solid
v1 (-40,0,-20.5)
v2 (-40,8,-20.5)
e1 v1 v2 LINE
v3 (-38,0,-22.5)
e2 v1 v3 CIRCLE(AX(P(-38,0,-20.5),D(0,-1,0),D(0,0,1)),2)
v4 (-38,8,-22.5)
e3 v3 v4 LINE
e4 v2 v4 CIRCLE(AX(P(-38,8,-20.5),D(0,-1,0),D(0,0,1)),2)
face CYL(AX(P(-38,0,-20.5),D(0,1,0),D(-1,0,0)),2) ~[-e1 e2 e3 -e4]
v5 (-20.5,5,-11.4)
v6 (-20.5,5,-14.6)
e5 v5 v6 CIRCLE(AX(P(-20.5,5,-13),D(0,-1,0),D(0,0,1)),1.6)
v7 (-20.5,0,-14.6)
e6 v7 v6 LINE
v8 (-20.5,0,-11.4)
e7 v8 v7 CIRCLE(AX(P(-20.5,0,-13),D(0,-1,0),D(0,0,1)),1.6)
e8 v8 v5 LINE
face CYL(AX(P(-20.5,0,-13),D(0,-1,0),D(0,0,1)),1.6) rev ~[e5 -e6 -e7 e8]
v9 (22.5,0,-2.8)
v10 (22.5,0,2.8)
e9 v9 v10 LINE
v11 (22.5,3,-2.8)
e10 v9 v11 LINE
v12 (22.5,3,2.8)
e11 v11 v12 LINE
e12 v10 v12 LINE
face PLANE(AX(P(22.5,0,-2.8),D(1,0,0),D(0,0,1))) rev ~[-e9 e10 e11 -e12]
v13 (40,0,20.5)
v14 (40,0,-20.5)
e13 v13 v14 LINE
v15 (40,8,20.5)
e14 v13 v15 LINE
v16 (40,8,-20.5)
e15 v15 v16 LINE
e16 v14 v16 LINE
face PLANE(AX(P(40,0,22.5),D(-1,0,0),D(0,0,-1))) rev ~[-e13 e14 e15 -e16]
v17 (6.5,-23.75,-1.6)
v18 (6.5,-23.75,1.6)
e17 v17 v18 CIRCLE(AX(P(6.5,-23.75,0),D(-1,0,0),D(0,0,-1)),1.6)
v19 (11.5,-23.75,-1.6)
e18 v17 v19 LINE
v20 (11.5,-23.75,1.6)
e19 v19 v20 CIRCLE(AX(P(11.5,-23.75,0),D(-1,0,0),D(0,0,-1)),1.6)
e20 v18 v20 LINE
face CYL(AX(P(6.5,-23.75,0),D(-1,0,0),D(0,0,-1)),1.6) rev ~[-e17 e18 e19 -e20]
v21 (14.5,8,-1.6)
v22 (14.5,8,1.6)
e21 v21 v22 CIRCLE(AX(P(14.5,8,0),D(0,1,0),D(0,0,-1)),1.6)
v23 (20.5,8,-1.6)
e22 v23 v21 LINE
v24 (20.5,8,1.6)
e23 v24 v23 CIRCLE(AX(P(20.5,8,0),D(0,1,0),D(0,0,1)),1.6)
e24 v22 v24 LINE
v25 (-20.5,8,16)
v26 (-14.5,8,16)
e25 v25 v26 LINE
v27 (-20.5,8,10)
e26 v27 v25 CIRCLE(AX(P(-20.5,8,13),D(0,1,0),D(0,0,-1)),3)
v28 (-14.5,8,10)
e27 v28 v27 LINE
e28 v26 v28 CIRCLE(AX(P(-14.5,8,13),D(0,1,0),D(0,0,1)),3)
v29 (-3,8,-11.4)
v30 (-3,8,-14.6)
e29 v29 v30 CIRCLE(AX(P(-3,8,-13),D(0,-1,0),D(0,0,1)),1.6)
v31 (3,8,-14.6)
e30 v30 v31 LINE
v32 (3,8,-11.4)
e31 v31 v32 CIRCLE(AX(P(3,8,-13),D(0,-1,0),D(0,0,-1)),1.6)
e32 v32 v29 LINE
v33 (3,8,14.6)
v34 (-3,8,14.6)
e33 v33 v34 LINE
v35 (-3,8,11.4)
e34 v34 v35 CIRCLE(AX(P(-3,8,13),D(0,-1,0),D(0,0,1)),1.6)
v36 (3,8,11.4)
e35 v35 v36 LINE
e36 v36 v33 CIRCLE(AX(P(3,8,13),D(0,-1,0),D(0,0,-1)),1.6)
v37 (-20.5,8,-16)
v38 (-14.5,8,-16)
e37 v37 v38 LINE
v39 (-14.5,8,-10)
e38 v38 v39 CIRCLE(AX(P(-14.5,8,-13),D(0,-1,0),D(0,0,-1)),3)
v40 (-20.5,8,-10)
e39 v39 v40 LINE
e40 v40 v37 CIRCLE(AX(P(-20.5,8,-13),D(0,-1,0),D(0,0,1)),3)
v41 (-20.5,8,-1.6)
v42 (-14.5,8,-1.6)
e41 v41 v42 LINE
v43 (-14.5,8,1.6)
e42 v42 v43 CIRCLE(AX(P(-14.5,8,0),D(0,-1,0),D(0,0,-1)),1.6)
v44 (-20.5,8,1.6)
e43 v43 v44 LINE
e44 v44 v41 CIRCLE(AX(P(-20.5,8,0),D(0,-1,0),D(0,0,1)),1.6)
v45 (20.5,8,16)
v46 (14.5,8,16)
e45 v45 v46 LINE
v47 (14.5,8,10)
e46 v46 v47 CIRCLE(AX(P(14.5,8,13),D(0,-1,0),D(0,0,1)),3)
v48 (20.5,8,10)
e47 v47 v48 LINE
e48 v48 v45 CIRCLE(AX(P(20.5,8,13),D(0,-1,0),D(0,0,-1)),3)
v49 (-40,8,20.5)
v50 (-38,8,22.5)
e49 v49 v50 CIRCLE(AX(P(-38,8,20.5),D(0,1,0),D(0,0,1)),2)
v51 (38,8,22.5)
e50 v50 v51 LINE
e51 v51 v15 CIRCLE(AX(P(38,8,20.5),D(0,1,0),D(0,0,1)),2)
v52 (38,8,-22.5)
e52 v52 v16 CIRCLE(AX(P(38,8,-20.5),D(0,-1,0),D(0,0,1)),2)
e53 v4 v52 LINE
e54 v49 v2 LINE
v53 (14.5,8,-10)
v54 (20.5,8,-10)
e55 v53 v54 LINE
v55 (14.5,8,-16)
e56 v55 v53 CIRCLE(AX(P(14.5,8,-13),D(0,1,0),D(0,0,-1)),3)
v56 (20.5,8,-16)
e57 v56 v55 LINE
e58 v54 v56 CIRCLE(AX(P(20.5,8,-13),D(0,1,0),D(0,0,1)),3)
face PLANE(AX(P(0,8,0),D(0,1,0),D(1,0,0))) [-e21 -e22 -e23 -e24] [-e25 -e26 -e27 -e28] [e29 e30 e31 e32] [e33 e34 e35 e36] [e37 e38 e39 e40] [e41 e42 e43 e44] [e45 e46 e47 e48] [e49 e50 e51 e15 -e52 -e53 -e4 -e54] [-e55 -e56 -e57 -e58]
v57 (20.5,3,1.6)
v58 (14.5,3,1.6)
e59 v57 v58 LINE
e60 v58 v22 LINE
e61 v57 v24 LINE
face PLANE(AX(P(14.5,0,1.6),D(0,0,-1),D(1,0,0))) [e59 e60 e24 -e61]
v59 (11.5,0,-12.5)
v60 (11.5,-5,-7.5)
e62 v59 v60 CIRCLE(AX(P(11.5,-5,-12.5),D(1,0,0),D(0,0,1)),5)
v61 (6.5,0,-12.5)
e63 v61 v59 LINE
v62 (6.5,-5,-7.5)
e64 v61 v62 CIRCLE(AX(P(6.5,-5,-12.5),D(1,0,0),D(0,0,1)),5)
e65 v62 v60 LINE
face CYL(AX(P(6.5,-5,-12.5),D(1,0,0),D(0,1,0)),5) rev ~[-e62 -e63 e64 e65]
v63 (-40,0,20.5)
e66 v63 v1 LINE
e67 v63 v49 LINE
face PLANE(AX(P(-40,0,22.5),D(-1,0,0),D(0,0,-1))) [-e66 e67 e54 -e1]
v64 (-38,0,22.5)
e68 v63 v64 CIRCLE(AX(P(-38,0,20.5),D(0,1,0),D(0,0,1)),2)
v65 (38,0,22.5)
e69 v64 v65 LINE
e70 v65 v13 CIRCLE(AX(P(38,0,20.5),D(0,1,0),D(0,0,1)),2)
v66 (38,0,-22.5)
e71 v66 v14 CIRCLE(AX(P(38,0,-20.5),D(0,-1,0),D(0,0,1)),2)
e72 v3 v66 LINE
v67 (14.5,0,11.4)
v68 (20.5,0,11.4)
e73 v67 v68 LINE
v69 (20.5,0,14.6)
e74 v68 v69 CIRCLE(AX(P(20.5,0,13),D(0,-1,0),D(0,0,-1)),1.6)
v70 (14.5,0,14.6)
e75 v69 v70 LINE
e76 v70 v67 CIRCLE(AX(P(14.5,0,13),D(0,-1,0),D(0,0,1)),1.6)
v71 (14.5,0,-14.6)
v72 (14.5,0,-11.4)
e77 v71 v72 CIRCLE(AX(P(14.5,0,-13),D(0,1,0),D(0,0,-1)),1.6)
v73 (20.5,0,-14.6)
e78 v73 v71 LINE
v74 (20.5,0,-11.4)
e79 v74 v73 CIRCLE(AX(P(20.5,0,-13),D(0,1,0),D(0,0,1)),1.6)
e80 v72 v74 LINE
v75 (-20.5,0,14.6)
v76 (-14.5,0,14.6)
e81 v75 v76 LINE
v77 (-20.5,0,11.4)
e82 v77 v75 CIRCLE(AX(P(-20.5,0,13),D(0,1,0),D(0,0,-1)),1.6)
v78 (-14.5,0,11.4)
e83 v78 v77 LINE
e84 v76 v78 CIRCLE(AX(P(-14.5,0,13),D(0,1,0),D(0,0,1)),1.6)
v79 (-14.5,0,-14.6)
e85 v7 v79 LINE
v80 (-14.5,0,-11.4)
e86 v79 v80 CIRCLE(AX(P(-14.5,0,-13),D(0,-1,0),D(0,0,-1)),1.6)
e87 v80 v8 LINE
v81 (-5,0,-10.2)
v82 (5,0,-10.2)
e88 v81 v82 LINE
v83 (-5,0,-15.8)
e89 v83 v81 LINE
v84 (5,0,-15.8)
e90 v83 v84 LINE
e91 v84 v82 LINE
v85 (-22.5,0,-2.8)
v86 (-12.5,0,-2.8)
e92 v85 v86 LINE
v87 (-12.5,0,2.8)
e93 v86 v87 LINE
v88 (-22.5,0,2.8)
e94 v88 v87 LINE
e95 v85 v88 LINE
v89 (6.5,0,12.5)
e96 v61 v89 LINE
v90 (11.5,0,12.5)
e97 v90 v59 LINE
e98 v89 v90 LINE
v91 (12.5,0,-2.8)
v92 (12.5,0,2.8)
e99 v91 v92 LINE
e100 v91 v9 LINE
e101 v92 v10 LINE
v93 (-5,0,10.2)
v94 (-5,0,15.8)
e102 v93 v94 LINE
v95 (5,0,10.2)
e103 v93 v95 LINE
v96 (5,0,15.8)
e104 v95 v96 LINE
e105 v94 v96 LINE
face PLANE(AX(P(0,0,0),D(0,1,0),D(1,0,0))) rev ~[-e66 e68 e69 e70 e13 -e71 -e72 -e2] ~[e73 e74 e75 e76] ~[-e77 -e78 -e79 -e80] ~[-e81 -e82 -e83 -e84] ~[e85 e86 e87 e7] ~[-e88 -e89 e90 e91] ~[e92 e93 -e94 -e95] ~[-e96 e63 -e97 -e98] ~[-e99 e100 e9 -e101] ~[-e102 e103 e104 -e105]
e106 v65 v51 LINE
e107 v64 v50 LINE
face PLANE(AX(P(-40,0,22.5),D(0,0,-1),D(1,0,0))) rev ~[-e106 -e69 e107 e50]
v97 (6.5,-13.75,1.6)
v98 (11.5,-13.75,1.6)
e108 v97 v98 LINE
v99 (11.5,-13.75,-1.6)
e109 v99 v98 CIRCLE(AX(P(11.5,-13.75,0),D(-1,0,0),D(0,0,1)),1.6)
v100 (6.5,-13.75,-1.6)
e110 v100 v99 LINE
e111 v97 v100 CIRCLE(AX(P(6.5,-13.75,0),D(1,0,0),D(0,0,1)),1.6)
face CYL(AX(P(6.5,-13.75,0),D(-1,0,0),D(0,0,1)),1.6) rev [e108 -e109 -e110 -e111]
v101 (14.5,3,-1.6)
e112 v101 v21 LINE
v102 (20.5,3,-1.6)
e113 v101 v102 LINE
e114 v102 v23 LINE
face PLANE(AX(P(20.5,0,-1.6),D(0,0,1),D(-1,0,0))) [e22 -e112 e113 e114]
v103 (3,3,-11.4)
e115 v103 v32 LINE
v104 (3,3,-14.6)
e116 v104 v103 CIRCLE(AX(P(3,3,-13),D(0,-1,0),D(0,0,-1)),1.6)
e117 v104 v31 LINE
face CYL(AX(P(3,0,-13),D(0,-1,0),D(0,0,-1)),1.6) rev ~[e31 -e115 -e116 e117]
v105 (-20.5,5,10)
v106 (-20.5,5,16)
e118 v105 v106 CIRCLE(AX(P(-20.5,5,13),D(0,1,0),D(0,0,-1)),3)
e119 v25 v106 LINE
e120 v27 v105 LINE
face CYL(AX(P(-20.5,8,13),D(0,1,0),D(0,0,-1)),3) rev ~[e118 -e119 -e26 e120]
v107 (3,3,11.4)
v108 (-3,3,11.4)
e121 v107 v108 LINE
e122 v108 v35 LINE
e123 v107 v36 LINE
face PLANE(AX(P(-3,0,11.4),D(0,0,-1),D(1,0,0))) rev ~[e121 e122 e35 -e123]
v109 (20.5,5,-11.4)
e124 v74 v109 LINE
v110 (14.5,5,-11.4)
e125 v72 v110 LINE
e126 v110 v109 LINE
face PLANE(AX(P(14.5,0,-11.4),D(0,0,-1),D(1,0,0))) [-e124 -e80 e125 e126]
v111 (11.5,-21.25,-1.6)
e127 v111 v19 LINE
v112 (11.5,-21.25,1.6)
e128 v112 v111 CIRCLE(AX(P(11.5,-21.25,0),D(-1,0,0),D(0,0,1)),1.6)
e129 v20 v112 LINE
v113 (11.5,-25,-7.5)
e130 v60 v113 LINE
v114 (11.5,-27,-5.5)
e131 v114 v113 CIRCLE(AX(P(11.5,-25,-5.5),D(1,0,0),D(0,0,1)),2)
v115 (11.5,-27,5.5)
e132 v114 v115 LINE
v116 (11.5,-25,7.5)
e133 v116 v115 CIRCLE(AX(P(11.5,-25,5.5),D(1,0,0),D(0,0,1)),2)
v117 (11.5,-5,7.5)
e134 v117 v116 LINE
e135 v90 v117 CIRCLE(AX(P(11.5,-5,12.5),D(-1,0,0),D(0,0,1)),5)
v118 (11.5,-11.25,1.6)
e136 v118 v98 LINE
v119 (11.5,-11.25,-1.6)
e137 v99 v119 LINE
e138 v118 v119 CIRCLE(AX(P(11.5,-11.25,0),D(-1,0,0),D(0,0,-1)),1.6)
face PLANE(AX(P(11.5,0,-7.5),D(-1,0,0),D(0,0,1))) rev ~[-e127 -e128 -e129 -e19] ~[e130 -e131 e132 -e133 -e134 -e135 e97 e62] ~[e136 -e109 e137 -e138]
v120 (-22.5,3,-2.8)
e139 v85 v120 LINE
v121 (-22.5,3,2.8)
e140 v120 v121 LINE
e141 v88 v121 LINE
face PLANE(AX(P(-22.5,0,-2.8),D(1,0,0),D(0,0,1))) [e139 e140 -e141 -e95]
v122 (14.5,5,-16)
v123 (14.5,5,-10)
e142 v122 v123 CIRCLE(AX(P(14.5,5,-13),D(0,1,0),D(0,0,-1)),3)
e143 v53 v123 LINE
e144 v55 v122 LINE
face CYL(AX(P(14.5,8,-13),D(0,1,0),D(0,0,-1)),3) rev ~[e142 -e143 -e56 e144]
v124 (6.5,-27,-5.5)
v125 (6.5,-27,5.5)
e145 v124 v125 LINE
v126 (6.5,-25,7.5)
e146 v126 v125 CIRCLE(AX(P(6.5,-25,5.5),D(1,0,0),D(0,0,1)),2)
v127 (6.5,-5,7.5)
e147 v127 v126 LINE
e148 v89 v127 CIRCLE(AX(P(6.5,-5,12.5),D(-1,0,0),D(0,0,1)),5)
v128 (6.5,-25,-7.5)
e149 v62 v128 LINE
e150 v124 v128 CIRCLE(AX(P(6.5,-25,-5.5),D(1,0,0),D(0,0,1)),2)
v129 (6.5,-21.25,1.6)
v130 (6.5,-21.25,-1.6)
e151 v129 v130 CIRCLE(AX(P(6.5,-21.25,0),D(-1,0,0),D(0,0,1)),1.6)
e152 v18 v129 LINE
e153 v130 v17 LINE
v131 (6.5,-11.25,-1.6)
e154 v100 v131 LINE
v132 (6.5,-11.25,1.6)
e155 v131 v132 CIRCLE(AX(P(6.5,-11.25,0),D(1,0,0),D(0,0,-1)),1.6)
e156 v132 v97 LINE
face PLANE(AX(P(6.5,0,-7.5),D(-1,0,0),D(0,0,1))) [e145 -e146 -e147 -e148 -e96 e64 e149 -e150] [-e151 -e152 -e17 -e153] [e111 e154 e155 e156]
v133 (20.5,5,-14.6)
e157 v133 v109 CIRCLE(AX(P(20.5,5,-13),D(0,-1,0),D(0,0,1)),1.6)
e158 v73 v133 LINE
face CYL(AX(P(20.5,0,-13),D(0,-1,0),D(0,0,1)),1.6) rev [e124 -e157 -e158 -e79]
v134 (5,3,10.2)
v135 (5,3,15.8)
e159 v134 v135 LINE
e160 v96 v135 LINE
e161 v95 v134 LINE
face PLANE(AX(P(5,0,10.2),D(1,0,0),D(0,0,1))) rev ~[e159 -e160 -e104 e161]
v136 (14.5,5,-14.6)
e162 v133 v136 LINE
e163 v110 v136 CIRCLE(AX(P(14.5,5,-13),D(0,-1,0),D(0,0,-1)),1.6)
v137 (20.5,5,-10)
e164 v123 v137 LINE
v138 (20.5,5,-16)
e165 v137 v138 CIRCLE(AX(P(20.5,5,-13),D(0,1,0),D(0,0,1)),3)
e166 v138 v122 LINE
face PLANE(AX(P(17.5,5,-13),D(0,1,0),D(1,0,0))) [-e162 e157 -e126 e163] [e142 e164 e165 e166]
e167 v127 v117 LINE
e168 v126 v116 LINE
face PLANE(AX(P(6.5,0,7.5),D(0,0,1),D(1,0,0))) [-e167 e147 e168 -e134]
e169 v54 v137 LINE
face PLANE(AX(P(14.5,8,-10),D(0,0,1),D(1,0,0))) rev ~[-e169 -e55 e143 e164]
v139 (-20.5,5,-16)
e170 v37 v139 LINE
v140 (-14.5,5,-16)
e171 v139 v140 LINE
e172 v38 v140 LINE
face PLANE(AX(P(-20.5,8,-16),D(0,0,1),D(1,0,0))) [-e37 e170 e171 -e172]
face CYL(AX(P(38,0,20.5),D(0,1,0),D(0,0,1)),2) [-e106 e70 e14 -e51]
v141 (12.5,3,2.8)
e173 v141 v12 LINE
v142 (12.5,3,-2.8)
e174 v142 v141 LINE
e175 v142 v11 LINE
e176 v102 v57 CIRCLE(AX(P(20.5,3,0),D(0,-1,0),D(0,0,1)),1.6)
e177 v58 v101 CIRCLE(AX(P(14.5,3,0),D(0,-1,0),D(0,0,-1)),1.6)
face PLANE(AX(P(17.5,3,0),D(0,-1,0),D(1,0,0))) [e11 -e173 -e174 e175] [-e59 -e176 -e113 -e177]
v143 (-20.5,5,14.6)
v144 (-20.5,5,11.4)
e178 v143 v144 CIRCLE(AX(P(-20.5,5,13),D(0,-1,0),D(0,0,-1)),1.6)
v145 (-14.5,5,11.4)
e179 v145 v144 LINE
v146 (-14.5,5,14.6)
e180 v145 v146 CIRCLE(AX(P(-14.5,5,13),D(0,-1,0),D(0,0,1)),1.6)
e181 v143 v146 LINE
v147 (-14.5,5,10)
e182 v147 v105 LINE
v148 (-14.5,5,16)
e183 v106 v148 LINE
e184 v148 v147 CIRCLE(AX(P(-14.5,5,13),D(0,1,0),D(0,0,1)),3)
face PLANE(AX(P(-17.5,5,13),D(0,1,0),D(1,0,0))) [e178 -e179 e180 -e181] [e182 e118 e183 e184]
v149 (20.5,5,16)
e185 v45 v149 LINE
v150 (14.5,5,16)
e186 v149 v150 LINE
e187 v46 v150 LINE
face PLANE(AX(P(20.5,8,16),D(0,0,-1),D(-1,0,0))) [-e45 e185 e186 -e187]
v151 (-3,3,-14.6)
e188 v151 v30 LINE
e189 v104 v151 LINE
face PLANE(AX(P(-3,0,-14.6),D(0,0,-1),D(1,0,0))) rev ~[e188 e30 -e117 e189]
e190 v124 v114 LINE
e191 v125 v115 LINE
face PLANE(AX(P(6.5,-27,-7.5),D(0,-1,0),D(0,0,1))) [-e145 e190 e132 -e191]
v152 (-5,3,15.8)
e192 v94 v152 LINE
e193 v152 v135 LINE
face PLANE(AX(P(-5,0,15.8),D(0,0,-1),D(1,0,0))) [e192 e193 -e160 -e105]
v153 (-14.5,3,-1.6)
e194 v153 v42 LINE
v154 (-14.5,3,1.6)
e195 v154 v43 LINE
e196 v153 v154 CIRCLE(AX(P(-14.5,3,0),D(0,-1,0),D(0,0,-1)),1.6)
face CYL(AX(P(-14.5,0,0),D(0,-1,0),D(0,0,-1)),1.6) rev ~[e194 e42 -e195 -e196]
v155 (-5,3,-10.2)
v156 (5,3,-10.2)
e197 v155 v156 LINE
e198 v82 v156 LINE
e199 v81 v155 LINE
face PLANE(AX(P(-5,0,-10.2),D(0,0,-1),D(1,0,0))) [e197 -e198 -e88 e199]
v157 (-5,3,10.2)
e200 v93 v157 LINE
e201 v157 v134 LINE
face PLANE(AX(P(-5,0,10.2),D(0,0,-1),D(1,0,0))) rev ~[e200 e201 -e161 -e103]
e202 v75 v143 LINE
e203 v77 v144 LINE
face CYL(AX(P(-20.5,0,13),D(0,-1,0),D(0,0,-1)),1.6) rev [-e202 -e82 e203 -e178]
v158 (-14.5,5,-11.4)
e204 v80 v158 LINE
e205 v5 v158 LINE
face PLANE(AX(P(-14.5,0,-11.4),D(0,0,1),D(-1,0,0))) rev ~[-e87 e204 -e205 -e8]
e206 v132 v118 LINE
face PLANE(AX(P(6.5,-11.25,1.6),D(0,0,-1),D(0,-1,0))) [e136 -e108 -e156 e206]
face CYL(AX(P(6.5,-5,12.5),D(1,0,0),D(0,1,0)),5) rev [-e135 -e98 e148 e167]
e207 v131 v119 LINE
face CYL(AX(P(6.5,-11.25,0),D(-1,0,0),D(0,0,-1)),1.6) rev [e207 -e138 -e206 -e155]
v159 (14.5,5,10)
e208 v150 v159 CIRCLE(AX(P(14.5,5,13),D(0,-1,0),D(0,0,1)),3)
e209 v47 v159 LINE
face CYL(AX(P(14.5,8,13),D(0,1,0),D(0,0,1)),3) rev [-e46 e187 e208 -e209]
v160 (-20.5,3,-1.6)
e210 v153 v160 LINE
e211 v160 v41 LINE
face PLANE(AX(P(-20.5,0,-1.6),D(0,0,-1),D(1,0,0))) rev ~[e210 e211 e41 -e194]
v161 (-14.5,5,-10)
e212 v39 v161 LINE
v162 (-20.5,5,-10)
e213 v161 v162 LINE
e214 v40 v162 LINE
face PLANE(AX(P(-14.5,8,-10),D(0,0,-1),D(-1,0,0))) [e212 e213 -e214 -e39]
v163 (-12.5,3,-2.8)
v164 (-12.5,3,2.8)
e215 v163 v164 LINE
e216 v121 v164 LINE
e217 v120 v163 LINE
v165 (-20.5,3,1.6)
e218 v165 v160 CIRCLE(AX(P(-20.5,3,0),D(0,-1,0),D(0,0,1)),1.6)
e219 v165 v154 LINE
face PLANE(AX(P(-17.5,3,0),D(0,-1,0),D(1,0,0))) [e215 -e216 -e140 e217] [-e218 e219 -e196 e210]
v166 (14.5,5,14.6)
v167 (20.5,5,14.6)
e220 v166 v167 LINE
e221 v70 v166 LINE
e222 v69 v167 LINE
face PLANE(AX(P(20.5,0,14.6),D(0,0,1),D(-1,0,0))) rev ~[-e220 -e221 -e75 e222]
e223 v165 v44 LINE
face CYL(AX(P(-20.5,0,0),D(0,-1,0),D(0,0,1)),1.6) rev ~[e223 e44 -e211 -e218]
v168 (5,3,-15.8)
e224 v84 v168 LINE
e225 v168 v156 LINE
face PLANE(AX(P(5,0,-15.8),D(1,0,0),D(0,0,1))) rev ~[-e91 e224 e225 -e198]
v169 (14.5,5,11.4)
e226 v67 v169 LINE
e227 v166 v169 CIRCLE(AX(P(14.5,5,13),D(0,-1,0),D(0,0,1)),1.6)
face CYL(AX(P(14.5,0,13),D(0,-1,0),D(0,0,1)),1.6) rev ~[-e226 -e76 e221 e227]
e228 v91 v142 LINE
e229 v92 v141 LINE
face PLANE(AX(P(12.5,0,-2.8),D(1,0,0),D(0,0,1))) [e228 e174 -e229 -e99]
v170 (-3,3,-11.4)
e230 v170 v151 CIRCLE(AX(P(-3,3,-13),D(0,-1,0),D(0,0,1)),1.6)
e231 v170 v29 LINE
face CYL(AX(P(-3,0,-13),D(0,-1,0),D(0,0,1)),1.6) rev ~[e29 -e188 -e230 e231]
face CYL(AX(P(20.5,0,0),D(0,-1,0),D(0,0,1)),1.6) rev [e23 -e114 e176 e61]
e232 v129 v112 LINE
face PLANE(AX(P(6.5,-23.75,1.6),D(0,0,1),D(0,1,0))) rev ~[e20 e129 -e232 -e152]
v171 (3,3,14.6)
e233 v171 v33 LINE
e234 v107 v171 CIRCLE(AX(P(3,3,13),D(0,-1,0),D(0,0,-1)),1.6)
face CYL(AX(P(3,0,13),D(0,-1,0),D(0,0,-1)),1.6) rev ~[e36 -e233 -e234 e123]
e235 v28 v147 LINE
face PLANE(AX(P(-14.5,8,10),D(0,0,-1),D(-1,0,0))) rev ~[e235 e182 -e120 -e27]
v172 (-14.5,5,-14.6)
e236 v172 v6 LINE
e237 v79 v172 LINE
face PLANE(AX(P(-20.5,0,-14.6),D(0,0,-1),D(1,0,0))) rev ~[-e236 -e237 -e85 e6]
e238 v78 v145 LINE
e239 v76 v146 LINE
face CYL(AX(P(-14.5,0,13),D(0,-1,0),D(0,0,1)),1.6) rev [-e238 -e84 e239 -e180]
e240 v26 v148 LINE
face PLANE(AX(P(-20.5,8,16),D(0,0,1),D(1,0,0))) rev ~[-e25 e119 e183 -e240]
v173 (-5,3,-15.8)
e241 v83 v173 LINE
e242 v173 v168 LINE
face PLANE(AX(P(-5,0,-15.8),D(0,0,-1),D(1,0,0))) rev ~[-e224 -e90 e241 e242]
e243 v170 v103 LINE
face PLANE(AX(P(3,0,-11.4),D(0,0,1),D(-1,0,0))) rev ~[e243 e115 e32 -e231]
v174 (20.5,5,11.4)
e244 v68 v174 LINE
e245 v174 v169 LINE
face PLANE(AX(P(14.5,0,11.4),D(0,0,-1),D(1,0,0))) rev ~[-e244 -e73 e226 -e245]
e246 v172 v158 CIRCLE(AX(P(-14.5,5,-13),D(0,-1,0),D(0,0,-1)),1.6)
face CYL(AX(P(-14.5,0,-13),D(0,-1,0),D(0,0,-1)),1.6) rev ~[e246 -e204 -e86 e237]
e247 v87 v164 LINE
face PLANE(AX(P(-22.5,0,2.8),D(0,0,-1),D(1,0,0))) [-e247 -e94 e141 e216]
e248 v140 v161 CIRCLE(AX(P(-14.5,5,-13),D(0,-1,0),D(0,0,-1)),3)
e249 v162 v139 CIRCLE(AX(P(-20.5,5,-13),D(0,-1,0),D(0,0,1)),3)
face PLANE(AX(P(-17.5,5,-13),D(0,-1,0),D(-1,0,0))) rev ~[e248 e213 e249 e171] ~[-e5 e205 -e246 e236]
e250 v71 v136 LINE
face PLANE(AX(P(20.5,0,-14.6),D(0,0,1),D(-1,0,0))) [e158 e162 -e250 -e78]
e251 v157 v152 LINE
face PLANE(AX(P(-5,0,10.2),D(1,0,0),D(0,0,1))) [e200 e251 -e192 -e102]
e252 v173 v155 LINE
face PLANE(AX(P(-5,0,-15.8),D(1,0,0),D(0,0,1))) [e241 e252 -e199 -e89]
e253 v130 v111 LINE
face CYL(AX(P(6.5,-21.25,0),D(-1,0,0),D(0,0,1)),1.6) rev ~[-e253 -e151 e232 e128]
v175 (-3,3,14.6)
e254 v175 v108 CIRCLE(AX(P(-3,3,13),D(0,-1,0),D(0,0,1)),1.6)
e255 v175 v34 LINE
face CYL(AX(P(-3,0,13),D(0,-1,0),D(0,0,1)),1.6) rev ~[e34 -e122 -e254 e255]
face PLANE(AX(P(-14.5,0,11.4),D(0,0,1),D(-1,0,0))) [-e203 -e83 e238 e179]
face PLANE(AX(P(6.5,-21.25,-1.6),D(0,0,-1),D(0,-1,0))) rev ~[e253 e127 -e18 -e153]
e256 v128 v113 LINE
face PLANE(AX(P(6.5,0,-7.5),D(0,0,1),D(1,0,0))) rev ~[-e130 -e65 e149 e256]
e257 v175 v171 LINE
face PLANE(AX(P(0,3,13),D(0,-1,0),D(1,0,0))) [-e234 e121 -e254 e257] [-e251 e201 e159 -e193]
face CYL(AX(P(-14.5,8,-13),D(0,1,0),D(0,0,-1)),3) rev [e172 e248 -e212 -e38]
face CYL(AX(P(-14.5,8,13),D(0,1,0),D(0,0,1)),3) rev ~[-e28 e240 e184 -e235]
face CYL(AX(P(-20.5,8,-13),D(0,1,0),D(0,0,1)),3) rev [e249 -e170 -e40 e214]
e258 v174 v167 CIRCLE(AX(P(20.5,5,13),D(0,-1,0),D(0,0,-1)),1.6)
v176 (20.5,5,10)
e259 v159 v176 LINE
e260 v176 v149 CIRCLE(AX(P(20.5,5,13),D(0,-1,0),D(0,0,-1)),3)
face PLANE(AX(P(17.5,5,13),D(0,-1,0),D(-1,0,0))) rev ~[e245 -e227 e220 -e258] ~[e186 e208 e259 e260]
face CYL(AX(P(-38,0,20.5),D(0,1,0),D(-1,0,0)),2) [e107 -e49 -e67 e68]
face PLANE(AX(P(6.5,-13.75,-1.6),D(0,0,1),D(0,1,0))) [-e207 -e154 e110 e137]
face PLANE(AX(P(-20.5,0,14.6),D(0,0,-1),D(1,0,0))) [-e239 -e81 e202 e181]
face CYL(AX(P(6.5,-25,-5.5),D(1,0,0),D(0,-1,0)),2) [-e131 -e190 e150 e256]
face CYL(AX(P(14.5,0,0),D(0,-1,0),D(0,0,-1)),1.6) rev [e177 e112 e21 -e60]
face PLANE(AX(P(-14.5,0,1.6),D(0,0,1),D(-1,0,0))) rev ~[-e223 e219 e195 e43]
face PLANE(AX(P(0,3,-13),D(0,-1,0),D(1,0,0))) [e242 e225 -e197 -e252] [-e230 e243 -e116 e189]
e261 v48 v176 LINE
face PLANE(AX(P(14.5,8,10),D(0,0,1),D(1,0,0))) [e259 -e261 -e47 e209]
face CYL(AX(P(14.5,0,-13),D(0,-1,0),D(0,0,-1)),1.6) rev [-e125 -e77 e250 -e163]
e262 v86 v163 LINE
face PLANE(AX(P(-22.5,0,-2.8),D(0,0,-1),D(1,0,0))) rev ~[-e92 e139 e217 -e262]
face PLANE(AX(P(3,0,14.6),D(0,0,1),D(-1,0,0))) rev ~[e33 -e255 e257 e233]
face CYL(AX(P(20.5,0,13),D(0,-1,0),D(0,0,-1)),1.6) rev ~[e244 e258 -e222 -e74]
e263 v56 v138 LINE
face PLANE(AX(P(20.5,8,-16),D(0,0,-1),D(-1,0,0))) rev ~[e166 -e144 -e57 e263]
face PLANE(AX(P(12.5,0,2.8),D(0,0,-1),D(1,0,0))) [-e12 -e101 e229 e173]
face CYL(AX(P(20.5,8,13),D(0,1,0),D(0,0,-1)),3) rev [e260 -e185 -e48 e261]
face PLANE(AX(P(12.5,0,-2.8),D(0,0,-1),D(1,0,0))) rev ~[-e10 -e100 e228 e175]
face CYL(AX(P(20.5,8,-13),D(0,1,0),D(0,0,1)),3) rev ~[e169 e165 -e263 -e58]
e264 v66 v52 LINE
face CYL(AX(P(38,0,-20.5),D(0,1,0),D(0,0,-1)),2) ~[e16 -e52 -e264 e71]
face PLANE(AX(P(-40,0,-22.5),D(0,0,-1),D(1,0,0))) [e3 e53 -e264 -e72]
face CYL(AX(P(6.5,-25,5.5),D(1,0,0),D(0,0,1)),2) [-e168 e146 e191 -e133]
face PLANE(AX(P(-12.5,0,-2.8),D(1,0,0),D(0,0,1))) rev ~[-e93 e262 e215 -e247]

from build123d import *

# Parameters (mm, degrees)
CROQUIS2_W              = 80
CROQUIS2_H              = 45
SALIENTE_EXTRUIR1_DEPTH = 8
CORTAR_EXTRUIR1_DEPTH   = 3
CROQUIS4_W              = 5
CROQUIS4_H              = 15
SALIENTE_EXTRUIR2_DEPTH = 35
CORTAR_EXTRUIR2_DEPTH   = 34.5
REDONDEO1_R             = 5
CROQUIS6_W              = 10
CROQUIS6_H              = 5.6
CORTAR_EXTRUIR3_DEPTH   = 3
CROQUIS8_W              = 15
CROQUIS8_H              = 8
CORTAR_EXTRUIR4_DEPTH   = 34.5
REDONDEO2_R             = 2


with BuildPart() as part:
    # Croquis2 → Saliente-Extruir1 (new body)
    with BuildSketch(Plane(origin=(0, 0, 0), x_dir=(1, 0, 0), z_dir=(0, 1, 0))):
        Rectangle(CROQUIS2_W, CROQUIS2_H)
        with BuildLine():
            Line((-20.5, 14.6), (-14.5, 14.6))
            ThreePointArc((-14.5, 14.6), (-12.9, 13), (-14.5, 11.4))
            Line((-14.5, 11.4), (-20.5, 11.4))
            ThreePointArc((-20.5, 11.4), (-22.1, 13), (-20.5, 14.6))
        make_face(mode=Mode.SUBTRACT)
        with BuildLine():
            Line((20.5, 14.6), (14.5, 14.6))
            ThreePointArc((14.5, 14.6), (12.9, 13), (14.5, 11.4))
            Line((14.5, 11.4), (20.5, 11.4))
            ThreePointArc((20.5, 11.4), (22.1, 13), (20.5, 14.6))
        make_face(mode=Mode.SUBTRACT)
        with BuildLine():
            Line((20.5, -14.6), (14.5, -14.6))
            ThreePointArc((14.5, -14.6), (12.9, -13), (14.5, -11.4))
            Line((14.5, -11.4), (20.5, -11.4))
            ThreePointArc((20.5, -11.4), (22.1, -13), (20.5, -14.6))
        make_face(mode=Mode.SUBTRACT)
        with BuildLine():
            Line((-20.5, -14.6), (-14.5, -14.6))
            ThreePointArc((-14.5, -14.6), (-12.9, -13), (-14.5, -11.4))
            Line((-14.5, -11.4), (-20.5, -11.4))
            ThreePointArc((-20.5, -11.4), (-22.1, -13), (-20.5, -14.6))
        make_face(mode=Mode.SUBTRACT)
        with BuildLine():
            Line((-20.5, 1.6), (-14.5, 1.6))
            ThreePointArc((-14.5, 1.6), (-12.9, 0), (-14.5, -1.6))
            Line((-14.5, -1.6), (-20.5, -1.6))
            ThreePointArc((-20.5, -1.6), (-22.1, 0), (-20.5, 1.6))
        make_face(mode=Mode.SUBTRACT)
        with BuildLine():
            Line((20.5, 1.6), (14.5, 1.6))
            ThreePointArc((14.5, 1.6), (12.9, 0), (14.5, -1.6))
            Line((14.5, -1.6), (20.5, -1.6))
            ThreePointArc((20.5, -1.6), (22.1, 0), (20.5, 1.6))
        make_face(mode=Mode.SUBTRACT)
        with BuildLine():
            Line((-3, 14.6), (3, 14.6))
            ThreePointArc((3, 14.6), (4.6, 13), (3, 11.4))
            Line((3, 11.4), (-3, 11.4))
            ThreePointArc((-3, 11.4), (-4.6, 13), (-3, 14.6))
        make_face(mode=Mode.SUBTRACT)
        with BuildLine():
            Line((-3, -11.4), (3, -11.4))
            ThreePointArc((3, -11.4), (4.6, -13), (3, -14.6))
            Line((3, -14.6), (-3, -14.6))
            ThreePointArc((-3, -14.6), (-4.6, -13), (-3, -11.4))
        make_face(mode=Mode.SUBTRACT)
    extrude(amount=SALIENTE_EXTRUIR1_DEPTH)

    # Croquis3 → Cortar-Extruir1 (cut)
    with BuildSketch(Plane(origin=(0, 8, 0), x_dir=(1, 0, 0), z_dir=(0, 1, 0))):
        with BuildLine():
            Line((-20.5, 16), (-14.5, 16))
            ThreePointArc((-14.5, 16), (-11.5, 13), (-14.5, 10))
            Line((-14.5, 10), (-20.5, 10))
            ThreePointArc((-20.5, 10), (-23.5, 13), (-20.5, 16))
        make_face()
        with BuildLine():
            Line((20.5, 16), (14.5, 16))
            ThreePointArc((14.5, 16), (11.5, 13), (14.5, 10))
            Line((14.5, 10), (20.5, 10))
            ThreePointArc((20.5, 10), (23.5, 13), (20.5, 16))
        make_face()
        with BuildLine():
            Line((20.5, -16), (14.5, -16))
            ThreePointArc((14.5, -16), (11.5, -13), (14.5, -10))
            Line((14.5, -10), (20.5, -10))
            ThreePointArc((20.5, -10), (23.5, -13), (20.5, -16))
        make_face()
        with BuildLine():
            Line((-20.5, -16), (-14.5, -16))
            ThreePointArc((-14.5, -16), (-11.5, -13), (-14.5, -10))
            Line((-14.5, -10), (-20.5, -10))
            ThreePointArc((-20.5, -10), (-23.5, -13), (-20.5, -16))
        make_face()
    extrude(amount=-CORTAR_EXTRUIR1_DEPTH, mode=Mode.SUBTRACT)

    # Croquis4 → Saliente-Extruir2 (add)
    with BuildSketch(Plane.XZ):
        with Locations((9, 0)):
            Rectangle(CROQUIS4_W, CROQUIS4_H)
    extrude(amount=SALIENTE_EXTRUIR2_DEPTH)

    # Croquis5 → Cortar-Extruir2 (cut, through all)
    with BuildSketch(Plane.ZY.offset(-6.5)):
        with BuildLine():
            Line((1.6, -11.25), (1.6, -13.75))
            ThreePointArc((1.6, -13.75), (0, -15.35), (-1.6, -13.75))
            Line((-1.6, -13.75), (-1.6, -11.25))
            ThreePointArc((-1.6, -11.25), (0, -9.65), (1.6, -11.25))
        make_face()
        with BuildLine():
            Line((1.6, -23.75), (1.6, -21.25))
            ThreePointArc((1.6, -21.25), (0, -19.65), (-1.6, -21.25))
            Line((-1.6, -21.25), (-1.6, -23.75))
            ThreePointArc((-1.6, -23.75), (0, -25.35), (1.6, -23.75))
        make_face()
    extrude(amount=-CORTAR_EXTRUIR2_DEPTH, mode=Mode.SUBTRACT)

    # Redondeo1
    redondeo1_edges = [part.edges().sort_by_distance(p)[0] for p in [
        (9, 0, 7.5),
        (9, 0, -7.5),
    ]]
    fillet(redondeo1_edges, radius=REDONDEO1_R)

    # Croquis6 → Cortar-Extruir3 (cut)
    with BuildSketch(Plane.XZ):
        with Locations((-17.5, 0)):
            Rectangle(CROQUIS6_W, CROQUIS6_H)
        with Locations((17.5, 0)):
            Rectangle(CROQUIS6_W, CROQUIS6_H)
        with Locations((0, 13)):
            Rectangle(CROQUIS6_W, CROQUIS6_H)
        with Locations((0, -13)):
            Rectangle(CROQUIS6_W, CROQUIS6_H)
    extrude(amount=-CORTAR_EXTRUIR3_DEPTH, mode=Mode.SUBTRACT)

    # Croquis8 → Cortar-Extruir4 (cut, through all)
    with BuildSketch(Plane.ZY.offset(-6.5)):
        with Locations((0, -31)):
            Rectangle(CROQUIS8_W, CROQUIS8_H)
    extrude(amount=-CORTAR_EXTRUIR4_DEPTH, mode=Mode.SUBTRACT)

    # Redondeo2
    redondeo2_edges = [part.edges().sort_by_distance(p)[0] for p in [
        (9, -27, -7.5),
        (9, -27, 7.5),
        (40, 4, 22.5),
        (-40, 4, 22.5),
        (-40, 4, -22.5),
        (40, 4, -22.5),
    ]]
    fillet(redondeo2_edges, radius=REDONDEO2_R)


solid = part.part
